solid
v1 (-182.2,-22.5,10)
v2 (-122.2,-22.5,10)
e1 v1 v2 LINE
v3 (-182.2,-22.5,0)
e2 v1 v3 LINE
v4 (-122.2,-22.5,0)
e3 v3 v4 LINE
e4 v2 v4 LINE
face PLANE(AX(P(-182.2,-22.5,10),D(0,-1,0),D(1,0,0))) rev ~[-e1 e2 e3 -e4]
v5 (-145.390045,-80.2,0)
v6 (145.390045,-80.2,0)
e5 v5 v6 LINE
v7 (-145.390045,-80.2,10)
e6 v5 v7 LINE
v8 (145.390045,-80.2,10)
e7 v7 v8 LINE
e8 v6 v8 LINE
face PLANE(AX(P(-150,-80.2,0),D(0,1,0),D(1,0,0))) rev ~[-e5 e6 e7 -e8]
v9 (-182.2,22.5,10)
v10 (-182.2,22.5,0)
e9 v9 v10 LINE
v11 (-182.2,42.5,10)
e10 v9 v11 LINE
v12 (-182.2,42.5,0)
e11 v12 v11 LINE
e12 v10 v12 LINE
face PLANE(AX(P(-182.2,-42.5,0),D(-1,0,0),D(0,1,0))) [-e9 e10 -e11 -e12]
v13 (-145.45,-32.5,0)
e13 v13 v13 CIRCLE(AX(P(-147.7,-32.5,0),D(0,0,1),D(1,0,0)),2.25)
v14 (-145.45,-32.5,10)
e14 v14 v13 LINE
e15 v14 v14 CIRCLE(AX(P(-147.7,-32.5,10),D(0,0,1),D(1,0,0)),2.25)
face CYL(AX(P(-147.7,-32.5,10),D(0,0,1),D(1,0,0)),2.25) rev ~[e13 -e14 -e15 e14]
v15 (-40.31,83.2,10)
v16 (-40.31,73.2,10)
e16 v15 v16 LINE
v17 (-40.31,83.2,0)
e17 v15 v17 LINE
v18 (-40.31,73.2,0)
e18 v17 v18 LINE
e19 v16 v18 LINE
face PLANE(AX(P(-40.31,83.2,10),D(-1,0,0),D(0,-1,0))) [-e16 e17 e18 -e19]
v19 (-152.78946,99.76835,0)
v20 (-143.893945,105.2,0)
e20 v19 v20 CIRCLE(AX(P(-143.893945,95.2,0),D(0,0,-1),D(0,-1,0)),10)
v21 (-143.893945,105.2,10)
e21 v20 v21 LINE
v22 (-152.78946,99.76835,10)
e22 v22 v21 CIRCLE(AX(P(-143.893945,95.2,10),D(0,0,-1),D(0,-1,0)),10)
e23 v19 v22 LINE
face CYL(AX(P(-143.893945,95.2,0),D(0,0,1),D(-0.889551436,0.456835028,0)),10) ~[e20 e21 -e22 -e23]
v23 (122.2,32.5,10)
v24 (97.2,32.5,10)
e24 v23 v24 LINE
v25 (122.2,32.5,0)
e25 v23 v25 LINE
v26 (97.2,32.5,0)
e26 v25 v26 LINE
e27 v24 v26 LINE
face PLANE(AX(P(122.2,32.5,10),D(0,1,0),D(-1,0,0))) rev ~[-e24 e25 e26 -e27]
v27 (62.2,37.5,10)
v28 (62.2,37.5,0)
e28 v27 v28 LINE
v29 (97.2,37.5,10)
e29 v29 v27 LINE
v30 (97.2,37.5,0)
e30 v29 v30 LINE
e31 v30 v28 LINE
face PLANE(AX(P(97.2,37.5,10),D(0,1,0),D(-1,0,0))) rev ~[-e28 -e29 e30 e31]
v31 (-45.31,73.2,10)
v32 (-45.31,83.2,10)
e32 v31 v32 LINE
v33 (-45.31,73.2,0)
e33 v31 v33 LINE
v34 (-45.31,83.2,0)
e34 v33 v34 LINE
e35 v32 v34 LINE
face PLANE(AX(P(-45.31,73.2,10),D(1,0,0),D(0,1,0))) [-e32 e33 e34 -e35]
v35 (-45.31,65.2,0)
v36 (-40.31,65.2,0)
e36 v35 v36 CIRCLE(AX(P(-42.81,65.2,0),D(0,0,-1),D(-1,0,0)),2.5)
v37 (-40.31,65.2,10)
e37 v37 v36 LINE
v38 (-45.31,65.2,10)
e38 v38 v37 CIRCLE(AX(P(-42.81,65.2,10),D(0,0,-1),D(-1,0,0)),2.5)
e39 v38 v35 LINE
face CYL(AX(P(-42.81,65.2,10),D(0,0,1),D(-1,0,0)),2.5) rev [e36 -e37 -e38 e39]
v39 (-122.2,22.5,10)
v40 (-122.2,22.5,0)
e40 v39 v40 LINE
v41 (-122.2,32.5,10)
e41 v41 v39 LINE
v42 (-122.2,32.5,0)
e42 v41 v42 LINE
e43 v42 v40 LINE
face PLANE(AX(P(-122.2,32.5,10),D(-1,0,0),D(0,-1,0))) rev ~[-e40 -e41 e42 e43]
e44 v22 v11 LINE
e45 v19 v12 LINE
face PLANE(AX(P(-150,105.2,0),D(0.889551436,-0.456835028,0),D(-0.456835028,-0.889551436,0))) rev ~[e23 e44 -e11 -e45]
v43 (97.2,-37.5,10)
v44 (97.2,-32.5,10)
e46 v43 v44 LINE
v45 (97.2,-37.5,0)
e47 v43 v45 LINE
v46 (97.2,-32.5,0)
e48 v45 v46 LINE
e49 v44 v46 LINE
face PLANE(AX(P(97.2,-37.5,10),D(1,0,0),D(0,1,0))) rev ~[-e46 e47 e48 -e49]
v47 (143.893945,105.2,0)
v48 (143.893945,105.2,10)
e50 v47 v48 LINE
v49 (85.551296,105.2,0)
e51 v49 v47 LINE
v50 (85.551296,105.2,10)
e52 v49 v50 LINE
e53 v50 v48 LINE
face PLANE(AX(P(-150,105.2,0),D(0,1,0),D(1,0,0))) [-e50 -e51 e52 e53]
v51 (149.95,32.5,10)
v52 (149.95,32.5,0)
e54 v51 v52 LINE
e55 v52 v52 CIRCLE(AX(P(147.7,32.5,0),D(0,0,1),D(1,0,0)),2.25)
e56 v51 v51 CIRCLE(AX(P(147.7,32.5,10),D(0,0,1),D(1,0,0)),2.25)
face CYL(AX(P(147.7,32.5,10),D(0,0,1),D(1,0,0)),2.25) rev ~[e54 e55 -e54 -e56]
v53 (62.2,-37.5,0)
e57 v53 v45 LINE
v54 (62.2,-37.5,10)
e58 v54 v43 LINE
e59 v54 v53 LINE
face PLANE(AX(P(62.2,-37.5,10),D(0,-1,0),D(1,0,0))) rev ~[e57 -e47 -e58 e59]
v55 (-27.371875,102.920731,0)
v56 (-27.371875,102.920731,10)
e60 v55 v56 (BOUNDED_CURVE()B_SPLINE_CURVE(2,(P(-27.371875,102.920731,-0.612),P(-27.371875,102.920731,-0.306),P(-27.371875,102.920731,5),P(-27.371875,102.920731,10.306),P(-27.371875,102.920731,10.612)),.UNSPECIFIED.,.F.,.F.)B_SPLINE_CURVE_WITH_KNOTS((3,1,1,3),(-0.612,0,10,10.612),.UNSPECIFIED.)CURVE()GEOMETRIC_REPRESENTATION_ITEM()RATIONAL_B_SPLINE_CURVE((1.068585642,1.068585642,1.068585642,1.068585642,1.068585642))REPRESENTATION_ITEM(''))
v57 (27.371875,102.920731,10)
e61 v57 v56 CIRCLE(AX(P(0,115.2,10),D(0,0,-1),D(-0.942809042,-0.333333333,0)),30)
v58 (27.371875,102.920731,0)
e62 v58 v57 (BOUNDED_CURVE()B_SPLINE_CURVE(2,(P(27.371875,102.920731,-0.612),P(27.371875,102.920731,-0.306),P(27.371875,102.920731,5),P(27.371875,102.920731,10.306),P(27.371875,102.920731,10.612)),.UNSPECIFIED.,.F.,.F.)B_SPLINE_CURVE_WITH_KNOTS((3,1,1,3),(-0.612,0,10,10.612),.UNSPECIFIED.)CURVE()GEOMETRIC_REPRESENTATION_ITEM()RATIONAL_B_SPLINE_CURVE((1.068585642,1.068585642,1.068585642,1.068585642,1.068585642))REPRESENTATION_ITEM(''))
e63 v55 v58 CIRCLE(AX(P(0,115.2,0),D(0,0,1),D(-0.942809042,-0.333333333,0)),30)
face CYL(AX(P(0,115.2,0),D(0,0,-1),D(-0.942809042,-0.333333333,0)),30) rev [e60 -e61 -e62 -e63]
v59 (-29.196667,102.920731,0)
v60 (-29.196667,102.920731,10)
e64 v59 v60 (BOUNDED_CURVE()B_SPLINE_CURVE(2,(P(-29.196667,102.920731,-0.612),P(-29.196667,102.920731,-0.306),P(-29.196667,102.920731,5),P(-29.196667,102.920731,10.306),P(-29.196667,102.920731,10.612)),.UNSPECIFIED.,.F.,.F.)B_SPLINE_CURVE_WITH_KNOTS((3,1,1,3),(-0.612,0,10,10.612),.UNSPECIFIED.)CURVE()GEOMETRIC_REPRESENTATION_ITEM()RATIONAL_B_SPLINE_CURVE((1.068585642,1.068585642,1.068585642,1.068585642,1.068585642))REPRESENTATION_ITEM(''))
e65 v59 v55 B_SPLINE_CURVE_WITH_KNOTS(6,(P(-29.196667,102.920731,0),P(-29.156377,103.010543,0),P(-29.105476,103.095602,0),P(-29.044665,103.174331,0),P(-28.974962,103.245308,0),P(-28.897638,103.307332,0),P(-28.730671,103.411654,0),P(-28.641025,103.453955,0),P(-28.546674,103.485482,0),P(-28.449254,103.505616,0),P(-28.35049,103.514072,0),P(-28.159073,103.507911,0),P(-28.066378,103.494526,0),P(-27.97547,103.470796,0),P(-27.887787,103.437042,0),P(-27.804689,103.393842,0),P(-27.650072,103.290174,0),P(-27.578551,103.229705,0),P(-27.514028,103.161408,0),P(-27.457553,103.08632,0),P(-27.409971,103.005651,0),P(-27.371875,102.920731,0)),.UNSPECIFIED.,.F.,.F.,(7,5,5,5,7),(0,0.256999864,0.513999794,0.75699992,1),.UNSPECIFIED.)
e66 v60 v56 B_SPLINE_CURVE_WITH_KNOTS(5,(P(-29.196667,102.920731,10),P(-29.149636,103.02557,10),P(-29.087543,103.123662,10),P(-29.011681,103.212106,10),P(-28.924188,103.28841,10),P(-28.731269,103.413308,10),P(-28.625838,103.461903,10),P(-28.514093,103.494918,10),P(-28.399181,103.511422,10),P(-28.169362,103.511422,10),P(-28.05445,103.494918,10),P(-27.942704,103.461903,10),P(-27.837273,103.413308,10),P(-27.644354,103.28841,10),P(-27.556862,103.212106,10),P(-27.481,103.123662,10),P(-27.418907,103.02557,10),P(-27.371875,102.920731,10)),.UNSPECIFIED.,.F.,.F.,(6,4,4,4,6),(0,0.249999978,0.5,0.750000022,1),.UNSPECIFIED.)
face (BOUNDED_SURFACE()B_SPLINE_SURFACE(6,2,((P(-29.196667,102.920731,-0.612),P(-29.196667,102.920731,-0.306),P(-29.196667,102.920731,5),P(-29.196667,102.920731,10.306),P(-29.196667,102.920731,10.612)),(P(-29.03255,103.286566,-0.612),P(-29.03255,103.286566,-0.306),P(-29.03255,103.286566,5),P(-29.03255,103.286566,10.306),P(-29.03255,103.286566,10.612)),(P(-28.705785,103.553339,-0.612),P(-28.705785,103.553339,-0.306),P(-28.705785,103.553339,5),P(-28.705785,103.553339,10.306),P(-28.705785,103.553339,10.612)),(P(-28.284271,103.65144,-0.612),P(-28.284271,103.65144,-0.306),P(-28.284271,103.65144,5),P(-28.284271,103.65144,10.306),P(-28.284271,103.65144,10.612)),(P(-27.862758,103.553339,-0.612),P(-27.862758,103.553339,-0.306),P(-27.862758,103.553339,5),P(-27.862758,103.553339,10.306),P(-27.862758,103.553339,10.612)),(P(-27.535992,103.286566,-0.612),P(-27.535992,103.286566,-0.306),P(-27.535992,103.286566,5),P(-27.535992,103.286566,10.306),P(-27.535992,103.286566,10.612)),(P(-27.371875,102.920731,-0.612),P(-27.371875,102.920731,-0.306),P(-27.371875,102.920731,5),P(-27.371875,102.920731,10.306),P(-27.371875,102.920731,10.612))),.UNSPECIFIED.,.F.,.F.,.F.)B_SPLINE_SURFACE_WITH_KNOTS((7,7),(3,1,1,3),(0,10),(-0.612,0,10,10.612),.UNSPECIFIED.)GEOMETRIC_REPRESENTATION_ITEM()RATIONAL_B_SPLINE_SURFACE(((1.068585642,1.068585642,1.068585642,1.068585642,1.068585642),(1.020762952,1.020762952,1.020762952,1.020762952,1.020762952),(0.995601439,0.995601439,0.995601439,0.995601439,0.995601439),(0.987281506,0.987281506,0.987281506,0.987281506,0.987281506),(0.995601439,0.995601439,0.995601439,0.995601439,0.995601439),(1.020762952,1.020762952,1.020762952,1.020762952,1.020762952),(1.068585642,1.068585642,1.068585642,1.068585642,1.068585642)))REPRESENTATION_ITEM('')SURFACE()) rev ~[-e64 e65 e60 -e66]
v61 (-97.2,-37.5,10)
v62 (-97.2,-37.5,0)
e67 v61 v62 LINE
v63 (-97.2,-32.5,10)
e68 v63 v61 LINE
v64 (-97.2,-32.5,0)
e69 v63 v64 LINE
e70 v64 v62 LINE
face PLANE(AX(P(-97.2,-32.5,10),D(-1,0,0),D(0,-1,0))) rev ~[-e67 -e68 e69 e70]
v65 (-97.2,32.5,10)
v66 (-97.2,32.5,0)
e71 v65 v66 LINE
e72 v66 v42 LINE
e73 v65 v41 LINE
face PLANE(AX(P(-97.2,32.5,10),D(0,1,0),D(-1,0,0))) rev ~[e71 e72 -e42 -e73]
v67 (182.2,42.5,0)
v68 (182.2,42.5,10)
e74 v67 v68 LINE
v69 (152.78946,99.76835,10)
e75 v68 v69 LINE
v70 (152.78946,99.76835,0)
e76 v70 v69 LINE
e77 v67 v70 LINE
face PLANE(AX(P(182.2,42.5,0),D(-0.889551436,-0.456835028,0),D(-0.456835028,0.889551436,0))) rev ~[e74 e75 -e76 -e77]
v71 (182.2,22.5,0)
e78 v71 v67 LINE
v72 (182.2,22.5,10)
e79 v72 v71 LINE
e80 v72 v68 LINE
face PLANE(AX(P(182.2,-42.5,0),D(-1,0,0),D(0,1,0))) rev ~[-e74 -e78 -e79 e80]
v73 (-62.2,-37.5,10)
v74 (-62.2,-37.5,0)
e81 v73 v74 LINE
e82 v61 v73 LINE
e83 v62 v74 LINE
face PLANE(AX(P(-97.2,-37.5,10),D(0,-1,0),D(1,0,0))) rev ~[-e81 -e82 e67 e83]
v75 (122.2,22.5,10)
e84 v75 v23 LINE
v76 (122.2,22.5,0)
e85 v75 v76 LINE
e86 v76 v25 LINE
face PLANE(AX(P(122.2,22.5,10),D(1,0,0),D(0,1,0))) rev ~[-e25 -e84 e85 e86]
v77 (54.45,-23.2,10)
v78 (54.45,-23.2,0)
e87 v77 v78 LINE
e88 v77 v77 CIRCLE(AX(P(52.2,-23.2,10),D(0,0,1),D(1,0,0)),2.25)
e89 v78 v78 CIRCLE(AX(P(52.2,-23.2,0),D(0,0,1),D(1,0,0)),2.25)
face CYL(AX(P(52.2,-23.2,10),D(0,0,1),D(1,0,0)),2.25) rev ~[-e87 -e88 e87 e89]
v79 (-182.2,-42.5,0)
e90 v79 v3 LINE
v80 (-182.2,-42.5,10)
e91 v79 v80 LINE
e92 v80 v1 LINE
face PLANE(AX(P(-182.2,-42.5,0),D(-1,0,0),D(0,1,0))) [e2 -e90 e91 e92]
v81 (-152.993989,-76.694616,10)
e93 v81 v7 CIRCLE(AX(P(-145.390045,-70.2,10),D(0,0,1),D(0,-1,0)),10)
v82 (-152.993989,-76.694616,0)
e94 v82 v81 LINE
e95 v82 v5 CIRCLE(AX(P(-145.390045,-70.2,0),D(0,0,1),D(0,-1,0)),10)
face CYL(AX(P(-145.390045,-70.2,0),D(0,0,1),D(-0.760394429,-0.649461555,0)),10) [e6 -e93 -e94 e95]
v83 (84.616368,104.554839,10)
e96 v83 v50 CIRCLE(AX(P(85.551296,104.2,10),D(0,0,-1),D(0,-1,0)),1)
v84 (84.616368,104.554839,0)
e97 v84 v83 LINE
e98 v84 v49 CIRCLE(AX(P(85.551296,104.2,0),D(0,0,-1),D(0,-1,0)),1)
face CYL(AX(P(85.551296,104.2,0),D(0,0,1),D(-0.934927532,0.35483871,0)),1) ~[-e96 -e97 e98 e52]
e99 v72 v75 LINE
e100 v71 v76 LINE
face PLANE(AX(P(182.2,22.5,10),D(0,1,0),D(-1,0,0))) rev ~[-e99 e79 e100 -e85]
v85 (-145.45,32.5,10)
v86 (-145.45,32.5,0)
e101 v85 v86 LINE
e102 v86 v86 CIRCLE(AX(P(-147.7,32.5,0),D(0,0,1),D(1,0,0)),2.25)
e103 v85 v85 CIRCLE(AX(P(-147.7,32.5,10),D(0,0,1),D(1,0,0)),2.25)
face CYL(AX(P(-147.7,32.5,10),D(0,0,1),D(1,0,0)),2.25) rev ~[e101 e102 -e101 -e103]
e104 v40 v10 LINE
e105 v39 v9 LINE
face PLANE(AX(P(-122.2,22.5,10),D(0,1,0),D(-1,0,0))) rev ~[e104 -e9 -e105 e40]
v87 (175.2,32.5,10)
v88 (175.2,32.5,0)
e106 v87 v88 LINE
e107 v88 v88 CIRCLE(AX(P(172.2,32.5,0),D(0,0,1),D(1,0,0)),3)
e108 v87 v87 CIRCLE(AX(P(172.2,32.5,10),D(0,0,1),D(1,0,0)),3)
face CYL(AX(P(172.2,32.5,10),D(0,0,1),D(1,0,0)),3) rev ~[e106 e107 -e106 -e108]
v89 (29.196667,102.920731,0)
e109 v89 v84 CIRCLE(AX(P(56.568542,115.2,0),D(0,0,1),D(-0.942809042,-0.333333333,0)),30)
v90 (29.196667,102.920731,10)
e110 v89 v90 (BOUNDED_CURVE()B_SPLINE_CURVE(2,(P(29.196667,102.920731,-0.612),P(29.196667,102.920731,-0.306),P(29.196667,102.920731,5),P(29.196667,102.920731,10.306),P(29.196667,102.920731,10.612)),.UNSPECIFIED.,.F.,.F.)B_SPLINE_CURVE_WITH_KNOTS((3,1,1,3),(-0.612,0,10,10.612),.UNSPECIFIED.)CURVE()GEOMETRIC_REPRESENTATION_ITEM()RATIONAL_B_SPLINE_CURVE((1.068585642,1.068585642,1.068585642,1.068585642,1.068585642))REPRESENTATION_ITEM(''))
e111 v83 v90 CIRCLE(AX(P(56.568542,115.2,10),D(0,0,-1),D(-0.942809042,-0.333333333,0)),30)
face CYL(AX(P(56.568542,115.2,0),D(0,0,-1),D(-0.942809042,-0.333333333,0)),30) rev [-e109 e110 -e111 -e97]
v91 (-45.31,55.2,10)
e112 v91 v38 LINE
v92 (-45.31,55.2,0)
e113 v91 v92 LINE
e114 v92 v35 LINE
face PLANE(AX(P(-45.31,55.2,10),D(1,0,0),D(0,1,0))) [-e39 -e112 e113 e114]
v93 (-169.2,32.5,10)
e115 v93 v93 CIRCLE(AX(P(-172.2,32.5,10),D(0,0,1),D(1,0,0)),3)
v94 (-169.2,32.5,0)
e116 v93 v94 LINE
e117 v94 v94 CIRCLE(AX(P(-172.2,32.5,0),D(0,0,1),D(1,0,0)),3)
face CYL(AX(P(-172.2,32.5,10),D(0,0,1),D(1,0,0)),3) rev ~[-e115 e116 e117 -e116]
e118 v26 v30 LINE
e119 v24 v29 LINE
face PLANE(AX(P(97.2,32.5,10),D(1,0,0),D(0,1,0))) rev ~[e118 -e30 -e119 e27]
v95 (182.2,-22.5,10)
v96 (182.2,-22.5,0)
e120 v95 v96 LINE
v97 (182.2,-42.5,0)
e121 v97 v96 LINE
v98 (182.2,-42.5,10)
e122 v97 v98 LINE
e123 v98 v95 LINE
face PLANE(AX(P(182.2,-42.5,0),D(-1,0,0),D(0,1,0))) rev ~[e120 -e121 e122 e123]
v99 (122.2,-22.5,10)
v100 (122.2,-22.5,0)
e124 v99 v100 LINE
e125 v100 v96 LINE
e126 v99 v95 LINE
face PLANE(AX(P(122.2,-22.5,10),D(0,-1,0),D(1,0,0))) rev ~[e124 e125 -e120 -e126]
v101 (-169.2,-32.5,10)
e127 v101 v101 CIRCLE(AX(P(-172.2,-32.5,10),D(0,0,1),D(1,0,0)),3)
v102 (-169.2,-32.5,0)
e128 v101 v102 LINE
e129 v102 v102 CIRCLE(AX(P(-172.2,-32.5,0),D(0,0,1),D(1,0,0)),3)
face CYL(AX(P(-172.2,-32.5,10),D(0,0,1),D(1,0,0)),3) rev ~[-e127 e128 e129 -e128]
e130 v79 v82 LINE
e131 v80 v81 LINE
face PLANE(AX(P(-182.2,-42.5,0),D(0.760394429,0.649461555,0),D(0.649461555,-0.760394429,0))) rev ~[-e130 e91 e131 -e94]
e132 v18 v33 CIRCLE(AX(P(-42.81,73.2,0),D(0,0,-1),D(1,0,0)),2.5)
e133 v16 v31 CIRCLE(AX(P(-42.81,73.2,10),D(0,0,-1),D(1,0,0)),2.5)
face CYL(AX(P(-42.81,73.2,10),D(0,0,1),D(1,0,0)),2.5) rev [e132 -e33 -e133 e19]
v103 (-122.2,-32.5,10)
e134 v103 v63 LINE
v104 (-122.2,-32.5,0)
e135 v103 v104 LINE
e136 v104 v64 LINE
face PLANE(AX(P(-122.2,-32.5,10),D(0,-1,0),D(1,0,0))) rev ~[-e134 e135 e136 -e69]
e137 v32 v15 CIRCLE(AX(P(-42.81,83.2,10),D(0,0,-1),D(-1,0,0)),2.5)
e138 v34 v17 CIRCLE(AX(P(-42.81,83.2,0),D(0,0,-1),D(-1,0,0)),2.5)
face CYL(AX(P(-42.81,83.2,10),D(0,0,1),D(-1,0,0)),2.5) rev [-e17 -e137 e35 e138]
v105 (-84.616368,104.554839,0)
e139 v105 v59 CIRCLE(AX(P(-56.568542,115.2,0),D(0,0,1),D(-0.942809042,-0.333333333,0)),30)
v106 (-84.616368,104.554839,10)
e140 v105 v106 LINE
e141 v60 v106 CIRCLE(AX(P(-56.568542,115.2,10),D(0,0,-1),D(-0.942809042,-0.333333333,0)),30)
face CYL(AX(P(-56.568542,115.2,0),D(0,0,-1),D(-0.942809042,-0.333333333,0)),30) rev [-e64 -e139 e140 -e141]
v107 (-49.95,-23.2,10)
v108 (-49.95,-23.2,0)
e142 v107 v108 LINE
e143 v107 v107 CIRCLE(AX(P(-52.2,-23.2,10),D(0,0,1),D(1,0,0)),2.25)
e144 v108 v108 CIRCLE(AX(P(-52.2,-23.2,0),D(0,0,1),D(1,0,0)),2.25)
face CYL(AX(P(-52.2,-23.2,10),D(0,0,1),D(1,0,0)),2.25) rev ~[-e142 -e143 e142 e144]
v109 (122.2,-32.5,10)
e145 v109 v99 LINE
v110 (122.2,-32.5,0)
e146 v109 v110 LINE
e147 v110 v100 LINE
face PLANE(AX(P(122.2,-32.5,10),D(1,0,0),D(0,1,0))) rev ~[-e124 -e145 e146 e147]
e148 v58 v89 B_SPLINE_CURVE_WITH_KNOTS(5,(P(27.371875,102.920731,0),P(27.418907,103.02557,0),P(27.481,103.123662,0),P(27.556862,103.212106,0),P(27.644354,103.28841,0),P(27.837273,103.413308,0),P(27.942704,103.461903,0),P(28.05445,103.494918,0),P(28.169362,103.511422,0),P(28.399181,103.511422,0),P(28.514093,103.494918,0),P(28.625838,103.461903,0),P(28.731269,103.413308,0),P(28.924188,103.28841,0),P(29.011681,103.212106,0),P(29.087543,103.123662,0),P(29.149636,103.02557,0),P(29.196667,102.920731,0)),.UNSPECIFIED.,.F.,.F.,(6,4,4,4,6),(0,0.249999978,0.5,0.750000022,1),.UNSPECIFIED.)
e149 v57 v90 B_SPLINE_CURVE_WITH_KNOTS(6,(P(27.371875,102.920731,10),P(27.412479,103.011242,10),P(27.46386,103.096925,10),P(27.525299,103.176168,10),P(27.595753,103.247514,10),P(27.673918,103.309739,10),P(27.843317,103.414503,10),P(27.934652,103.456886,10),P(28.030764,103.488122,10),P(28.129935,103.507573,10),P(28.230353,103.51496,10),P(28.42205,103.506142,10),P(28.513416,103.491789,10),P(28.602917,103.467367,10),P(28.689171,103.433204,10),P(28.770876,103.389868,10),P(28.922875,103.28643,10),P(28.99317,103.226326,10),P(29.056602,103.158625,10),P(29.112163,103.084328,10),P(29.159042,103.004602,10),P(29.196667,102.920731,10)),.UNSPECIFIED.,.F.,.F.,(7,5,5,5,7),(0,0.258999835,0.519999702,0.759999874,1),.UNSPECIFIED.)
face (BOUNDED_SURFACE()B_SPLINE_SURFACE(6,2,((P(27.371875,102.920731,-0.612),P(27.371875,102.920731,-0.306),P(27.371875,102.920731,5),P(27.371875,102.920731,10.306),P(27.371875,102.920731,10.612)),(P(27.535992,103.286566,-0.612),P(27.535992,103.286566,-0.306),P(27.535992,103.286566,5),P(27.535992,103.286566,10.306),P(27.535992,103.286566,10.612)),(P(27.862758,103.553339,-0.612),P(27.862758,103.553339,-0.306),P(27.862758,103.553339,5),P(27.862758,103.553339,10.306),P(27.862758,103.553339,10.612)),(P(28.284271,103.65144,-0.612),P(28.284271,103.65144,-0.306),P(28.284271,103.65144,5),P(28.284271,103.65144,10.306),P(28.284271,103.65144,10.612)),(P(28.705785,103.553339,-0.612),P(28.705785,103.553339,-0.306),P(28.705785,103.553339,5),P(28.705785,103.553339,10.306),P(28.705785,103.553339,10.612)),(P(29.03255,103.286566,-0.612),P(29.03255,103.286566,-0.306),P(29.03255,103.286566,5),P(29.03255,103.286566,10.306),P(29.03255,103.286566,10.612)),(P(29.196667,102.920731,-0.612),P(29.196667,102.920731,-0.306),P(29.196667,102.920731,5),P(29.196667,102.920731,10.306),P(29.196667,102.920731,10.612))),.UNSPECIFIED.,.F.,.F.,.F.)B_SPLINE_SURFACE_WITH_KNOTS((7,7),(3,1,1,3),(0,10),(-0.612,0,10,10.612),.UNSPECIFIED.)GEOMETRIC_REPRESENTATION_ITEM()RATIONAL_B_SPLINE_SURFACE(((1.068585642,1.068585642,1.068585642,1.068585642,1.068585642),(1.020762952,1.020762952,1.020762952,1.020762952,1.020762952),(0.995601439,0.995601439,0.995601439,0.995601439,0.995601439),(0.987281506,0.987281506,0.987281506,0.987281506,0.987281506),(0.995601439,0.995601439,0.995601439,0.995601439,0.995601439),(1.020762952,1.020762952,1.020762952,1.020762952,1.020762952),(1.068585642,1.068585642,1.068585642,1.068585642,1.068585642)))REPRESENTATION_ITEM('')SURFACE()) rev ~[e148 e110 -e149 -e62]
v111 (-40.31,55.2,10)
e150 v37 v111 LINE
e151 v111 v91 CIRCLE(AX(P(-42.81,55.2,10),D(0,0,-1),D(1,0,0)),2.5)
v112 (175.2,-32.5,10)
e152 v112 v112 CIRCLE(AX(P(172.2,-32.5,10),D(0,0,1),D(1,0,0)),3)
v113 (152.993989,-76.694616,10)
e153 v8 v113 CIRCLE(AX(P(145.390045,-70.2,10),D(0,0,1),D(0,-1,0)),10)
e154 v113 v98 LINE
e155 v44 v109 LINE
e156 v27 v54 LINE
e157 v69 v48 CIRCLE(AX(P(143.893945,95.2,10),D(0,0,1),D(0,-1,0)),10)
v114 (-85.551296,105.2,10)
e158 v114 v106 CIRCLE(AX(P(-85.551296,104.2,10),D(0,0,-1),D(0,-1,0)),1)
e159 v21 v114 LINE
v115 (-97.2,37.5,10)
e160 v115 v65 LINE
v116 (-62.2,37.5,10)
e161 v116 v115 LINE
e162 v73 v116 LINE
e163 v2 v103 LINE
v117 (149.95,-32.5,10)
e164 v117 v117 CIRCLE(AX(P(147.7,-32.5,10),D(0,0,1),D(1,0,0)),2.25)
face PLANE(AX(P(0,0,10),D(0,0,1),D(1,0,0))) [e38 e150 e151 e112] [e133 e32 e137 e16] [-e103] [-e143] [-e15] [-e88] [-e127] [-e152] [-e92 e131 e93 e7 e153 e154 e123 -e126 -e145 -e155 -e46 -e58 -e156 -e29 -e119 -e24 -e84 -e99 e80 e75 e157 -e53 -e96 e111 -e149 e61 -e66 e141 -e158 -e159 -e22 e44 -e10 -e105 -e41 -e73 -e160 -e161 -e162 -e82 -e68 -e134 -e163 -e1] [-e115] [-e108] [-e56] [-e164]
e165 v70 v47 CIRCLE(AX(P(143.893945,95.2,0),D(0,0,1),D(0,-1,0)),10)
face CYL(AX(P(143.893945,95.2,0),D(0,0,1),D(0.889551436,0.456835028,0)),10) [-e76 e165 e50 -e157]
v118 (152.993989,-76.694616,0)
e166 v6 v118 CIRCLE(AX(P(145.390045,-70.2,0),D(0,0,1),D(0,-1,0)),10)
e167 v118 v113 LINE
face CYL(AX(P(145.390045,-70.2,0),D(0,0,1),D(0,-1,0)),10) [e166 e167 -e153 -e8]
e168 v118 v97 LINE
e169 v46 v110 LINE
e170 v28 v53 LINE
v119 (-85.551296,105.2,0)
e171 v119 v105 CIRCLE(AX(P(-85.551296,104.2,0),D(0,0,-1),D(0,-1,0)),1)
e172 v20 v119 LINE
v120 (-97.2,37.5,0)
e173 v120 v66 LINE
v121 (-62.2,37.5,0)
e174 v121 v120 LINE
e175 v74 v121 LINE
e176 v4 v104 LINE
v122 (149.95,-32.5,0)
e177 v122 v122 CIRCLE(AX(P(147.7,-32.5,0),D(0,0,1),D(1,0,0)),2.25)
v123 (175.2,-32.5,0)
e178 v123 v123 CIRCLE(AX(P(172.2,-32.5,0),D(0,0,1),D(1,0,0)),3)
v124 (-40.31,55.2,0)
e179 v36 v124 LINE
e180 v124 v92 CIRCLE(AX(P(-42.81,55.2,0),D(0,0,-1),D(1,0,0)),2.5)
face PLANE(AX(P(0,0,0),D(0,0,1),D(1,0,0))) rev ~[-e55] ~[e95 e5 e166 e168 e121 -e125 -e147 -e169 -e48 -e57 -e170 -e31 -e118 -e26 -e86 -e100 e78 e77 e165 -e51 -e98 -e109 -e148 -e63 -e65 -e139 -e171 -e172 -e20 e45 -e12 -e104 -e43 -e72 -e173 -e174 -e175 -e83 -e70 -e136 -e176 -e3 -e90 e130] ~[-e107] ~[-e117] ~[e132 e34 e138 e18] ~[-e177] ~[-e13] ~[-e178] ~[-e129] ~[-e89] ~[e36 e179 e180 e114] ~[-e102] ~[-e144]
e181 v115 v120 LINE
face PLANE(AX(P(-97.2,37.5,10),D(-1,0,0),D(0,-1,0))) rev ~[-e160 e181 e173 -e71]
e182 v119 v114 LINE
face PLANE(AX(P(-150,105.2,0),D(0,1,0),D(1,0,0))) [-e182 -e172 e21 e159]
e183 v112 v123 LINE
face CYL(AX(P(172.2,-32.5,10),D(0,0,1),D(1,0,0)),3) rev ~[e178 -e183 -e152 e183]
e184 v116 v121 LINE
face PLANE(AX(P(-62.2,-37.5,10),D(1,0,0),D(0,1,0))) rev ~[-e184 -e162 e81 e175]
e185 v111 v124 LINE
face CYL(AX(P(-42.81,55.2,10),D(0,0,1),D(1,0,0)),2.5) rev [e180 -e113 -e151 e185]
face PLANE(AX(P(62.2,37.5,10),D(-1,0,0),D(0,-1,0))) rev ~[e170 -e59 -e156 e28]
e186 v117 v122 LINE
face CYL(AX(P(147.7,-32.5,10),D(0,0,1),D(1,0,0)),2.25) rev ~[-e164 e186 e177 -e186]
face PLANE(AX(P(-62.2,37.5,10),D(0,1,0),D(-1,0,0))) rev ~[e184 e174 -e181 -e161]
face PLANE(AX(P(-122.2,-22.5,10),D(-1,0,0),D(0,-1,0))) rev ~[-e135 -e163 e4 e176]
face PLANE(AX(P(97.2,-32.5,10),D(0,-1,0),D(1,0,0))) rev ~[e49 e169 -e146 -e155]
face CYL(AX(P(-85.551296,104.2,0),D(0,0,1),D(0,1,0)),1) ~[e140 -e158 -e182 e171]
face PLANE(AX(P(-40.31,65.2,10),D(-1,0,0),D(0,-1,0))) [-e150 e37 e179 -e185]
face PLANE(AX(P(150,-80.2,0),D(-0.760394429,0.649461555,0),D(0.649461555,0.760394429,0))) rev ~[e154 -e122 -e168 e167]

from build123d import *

# Parameters (mm, degrees)
ESQUISSE3_W                  = 364.4
ESQUISSE3_H                  = 85
ESQUISSE3_W_2                = 300
ESQUISSE3_H_2                = 62.7
ESQUISSE3_H_3                = 37.7
BOSS_EXTRU_1_DEPTH           = 10
ENL_V_MAT_EXTRU_1_DEPTH      = 10
ENL_V_MAT_EXTRU_2_DEPTH      = 211.627348652
ENL_V_MAT_EXTRU_2_DEPTH_BACK = 10
ESQUISSE10_R                 = 2.25
ESQUISSE10_R_2               = 3
ENL_V_MAT_EXTRU_3_DEPTH      = 10
ESQUISSE15_R                 = 2.25
ENL_V_MAT_EXTRU_4_DEPTH      = 10
CONG_1_R                     = 10
CONG_3_R                     = 1
ENL_V_MAT_EXTRU_5_DEPTH      = 10


with BuildPart() as part:
    # Esquisse3 → Boss.-Extru.1 (new body)
    with BuildSketch(Plane.XY):
        Rectangle(ESQUISSE3_W, ESQUISSE3_H)
        with Locations((0, 73.85)):
            Rectangle(ESQUISSE3_W_2, ESQUISSE3_H_2)
        with Locations((0, -61.35)):
            Rectangle(ESQUISSE3_W_2, ESQUISSE3_H_3)
        Polygon((-150, 105.2), (-182.2, 42.5), (-150, 42.5), align=None)
        Polygon((-150, -42.5), (-182.2, -42.5), (-150, -80.2), align=None)
        Polygon((182.2, -42.5), (150, -42.5), (150, -80.2), align=None)
        Polygon((182.2, 42.5), (150, 105.2), (150, 42.5), align=None)
    extrude(amount=BOSS_EXTRU_1_DEPTH)

    # Esquisse4 → Enlèv. mat.-Extru.1 (cut)
    with BuildSketch(Plane.XY.offset(10)):
        Polygon((-97.2, 32.5), (-122.2, 32.5), (-122.2, 22.5), (-182.2, 22.5), (-182.2, -22.5), (-122.2, -22.5), (-122.2, -32.5), (-97.2, -32.5), (-97.2, -37.5), (-62.2, -37.5), (-62.2, 37.5), (-97.2, 37.5), align=None)
        Polygon((122.2, 22.5), (122.2, 32.5), (97.2, 32.5), (97.2, 37.5), (62.2, 37.5), (62.2, -37.5), (97.2, -37.5), (97.2, -32.5), (122.2, -32.5), (122.2, -22.5), (182.2, -22.5), (182.2, 22.5), align=None)
    extrude(amount=-ENL_V_MAT_EXTRU_1_DEPTH, mode=Mode.SUBTRACT)

    # Esquisse5 → Enlèv. mat.-Extru.2 (cut, two sides: drawn at the far end of the back side and taken through both)
    with BuildSketch(Plane.XY.offset(10).offset(-ENL_V_MAT_EXTRU_2_DEPTH_BACK)):
        with BuildLine():
            Line((84.852813742, 105.2), (28.284271247, 105.2))
            ThreePointArc((28.284271247, 105.2), (56.568542495, 85.2), (84.852813742, 105.2))
        make_face()
        with BuildLine():
            ThreePointArc((-28.284271247, 105.2), (0, 85.2), (28.284271247, 105.2))
            Line((28.284271247, 105.2), (-28.284271247, 105.2))
        make_face()
        with BuildLine():
            ThreePointArc((-84.852813742, 105.2), (-56.568542495, 85.2), (-28.284271247, 105.2))
            Line((-28.284271247, 105.2), (-84.852813742, 105.2))
        make_face()
    extrude(amount=ENL_V_MAT_EXTRU_2_DEPTH + ENL_V_MAT_EXTRU_2_DEPTH_BACK, mode=Mode.SUBTRACT)

    # Esquisse10 → Enlèv. mat.-Extru.3 (cut)
    with BuildSketch(Plane.XY.offset(10)):
        with Locations((-147.7, 32.5)):
            Circle(ESQUISSE10_R)
        with Locations((-172.2, 32.5)):
            Circle(ESQUISSE10_R_2)
        with Locations((-172.2, -32.5)):
            Circle(ESQUISSE10_R_2)
        with Locations((-147.7, -32.5)):
            Circle(ESQUISSE10_R)
        with Locations((172.2, 32.5)):
            Circle(ESQUISSE10_R_2)
        with Locations((147.7, 32.5)):
            Circle(ESQUISSE10_R)
        with Locations((172.2, -32.5)):
            Circle(ESQUISSE10_R_2)
        with Locations((147.7, -32.5)):
            Circle(ESQUISSE10_R)
    extrude(amount=-ENL_V_MAT_EXTRU_3_DEPTH, mode=Mode.SUBTRACT)

    # Esquisse15 → Enlèv. mat.-Extru.4 (cut)
    with BuildSketch(Plane.XY.offset(10)):
        with Locations((-52.2, -23.2)):
            Circle(ESQUISSE15_R)
        with Locations((52.2, -23.2)):
            Circle(ESQUISSE15_R)
    extrude(amount=-ENL_V_MAT_EXTRU_4_DEPTH, mode=Mode.SUBTRACT)

    # Congé1
    cong_1_edges = [part.edges().sort_by_distance(p)[0] for p in [
        (150, -80.2, 5),
        (-150, -80.2, 5),
        (-150, 105.2, 5),
        (150, 105.2, 5),
    ]]
    fillet(cong_1_edges, radius=CONG_1_R)

    # Congé3
    cong_3_edges = [part.edges().sort_by_distance(p)[0] for p in [
        (-84.852813742, 105.2, 5),
        (84.852813742, 105.2, 5),
        (28.284271247, 105.2, 5),
        (-28.284271247, 105.2, 5),
    ]]
    fillet(cong_3_edges, radius=CONG_3_R)

    # Esquisse17 → Enlèv. mat.-Extru.5 (cut)
    with BuildSketch(Plane.XY.offset(10)):
        with BuildLine():
            Line((-40.31, 83.2), (-40.31, 73.2))
            ThreePointArc((-40.31, 73.2), (-42.81, 70.7), (-45.31, 73.2))
            Line((-45.31, 73.2), (-45.31, 83.2))
            ThreePointArc((-45.31, 83.2), (-42.81, 85.7), (-40.31, 83.2))
        make_face()
        with BuildLine():
            Line((-40.31, 65.2), (-40.31, 55.2))
            ThreePointArc((-40.31, 55.2), (-42.81, 52.7), (-45.31, 55.2))
            Line((-45.31, 55.2), (-45.31, 65.2))
            ThreePointArc((-45.31, 65.2), (-42.81, 67.7), (-40.31, 65.2))
        make_face()
    extrude(amount=-ENL_V_MAT_EXTRU_5_DEPTH, mode=Mode.SUBTRACT)


solid = part.part
